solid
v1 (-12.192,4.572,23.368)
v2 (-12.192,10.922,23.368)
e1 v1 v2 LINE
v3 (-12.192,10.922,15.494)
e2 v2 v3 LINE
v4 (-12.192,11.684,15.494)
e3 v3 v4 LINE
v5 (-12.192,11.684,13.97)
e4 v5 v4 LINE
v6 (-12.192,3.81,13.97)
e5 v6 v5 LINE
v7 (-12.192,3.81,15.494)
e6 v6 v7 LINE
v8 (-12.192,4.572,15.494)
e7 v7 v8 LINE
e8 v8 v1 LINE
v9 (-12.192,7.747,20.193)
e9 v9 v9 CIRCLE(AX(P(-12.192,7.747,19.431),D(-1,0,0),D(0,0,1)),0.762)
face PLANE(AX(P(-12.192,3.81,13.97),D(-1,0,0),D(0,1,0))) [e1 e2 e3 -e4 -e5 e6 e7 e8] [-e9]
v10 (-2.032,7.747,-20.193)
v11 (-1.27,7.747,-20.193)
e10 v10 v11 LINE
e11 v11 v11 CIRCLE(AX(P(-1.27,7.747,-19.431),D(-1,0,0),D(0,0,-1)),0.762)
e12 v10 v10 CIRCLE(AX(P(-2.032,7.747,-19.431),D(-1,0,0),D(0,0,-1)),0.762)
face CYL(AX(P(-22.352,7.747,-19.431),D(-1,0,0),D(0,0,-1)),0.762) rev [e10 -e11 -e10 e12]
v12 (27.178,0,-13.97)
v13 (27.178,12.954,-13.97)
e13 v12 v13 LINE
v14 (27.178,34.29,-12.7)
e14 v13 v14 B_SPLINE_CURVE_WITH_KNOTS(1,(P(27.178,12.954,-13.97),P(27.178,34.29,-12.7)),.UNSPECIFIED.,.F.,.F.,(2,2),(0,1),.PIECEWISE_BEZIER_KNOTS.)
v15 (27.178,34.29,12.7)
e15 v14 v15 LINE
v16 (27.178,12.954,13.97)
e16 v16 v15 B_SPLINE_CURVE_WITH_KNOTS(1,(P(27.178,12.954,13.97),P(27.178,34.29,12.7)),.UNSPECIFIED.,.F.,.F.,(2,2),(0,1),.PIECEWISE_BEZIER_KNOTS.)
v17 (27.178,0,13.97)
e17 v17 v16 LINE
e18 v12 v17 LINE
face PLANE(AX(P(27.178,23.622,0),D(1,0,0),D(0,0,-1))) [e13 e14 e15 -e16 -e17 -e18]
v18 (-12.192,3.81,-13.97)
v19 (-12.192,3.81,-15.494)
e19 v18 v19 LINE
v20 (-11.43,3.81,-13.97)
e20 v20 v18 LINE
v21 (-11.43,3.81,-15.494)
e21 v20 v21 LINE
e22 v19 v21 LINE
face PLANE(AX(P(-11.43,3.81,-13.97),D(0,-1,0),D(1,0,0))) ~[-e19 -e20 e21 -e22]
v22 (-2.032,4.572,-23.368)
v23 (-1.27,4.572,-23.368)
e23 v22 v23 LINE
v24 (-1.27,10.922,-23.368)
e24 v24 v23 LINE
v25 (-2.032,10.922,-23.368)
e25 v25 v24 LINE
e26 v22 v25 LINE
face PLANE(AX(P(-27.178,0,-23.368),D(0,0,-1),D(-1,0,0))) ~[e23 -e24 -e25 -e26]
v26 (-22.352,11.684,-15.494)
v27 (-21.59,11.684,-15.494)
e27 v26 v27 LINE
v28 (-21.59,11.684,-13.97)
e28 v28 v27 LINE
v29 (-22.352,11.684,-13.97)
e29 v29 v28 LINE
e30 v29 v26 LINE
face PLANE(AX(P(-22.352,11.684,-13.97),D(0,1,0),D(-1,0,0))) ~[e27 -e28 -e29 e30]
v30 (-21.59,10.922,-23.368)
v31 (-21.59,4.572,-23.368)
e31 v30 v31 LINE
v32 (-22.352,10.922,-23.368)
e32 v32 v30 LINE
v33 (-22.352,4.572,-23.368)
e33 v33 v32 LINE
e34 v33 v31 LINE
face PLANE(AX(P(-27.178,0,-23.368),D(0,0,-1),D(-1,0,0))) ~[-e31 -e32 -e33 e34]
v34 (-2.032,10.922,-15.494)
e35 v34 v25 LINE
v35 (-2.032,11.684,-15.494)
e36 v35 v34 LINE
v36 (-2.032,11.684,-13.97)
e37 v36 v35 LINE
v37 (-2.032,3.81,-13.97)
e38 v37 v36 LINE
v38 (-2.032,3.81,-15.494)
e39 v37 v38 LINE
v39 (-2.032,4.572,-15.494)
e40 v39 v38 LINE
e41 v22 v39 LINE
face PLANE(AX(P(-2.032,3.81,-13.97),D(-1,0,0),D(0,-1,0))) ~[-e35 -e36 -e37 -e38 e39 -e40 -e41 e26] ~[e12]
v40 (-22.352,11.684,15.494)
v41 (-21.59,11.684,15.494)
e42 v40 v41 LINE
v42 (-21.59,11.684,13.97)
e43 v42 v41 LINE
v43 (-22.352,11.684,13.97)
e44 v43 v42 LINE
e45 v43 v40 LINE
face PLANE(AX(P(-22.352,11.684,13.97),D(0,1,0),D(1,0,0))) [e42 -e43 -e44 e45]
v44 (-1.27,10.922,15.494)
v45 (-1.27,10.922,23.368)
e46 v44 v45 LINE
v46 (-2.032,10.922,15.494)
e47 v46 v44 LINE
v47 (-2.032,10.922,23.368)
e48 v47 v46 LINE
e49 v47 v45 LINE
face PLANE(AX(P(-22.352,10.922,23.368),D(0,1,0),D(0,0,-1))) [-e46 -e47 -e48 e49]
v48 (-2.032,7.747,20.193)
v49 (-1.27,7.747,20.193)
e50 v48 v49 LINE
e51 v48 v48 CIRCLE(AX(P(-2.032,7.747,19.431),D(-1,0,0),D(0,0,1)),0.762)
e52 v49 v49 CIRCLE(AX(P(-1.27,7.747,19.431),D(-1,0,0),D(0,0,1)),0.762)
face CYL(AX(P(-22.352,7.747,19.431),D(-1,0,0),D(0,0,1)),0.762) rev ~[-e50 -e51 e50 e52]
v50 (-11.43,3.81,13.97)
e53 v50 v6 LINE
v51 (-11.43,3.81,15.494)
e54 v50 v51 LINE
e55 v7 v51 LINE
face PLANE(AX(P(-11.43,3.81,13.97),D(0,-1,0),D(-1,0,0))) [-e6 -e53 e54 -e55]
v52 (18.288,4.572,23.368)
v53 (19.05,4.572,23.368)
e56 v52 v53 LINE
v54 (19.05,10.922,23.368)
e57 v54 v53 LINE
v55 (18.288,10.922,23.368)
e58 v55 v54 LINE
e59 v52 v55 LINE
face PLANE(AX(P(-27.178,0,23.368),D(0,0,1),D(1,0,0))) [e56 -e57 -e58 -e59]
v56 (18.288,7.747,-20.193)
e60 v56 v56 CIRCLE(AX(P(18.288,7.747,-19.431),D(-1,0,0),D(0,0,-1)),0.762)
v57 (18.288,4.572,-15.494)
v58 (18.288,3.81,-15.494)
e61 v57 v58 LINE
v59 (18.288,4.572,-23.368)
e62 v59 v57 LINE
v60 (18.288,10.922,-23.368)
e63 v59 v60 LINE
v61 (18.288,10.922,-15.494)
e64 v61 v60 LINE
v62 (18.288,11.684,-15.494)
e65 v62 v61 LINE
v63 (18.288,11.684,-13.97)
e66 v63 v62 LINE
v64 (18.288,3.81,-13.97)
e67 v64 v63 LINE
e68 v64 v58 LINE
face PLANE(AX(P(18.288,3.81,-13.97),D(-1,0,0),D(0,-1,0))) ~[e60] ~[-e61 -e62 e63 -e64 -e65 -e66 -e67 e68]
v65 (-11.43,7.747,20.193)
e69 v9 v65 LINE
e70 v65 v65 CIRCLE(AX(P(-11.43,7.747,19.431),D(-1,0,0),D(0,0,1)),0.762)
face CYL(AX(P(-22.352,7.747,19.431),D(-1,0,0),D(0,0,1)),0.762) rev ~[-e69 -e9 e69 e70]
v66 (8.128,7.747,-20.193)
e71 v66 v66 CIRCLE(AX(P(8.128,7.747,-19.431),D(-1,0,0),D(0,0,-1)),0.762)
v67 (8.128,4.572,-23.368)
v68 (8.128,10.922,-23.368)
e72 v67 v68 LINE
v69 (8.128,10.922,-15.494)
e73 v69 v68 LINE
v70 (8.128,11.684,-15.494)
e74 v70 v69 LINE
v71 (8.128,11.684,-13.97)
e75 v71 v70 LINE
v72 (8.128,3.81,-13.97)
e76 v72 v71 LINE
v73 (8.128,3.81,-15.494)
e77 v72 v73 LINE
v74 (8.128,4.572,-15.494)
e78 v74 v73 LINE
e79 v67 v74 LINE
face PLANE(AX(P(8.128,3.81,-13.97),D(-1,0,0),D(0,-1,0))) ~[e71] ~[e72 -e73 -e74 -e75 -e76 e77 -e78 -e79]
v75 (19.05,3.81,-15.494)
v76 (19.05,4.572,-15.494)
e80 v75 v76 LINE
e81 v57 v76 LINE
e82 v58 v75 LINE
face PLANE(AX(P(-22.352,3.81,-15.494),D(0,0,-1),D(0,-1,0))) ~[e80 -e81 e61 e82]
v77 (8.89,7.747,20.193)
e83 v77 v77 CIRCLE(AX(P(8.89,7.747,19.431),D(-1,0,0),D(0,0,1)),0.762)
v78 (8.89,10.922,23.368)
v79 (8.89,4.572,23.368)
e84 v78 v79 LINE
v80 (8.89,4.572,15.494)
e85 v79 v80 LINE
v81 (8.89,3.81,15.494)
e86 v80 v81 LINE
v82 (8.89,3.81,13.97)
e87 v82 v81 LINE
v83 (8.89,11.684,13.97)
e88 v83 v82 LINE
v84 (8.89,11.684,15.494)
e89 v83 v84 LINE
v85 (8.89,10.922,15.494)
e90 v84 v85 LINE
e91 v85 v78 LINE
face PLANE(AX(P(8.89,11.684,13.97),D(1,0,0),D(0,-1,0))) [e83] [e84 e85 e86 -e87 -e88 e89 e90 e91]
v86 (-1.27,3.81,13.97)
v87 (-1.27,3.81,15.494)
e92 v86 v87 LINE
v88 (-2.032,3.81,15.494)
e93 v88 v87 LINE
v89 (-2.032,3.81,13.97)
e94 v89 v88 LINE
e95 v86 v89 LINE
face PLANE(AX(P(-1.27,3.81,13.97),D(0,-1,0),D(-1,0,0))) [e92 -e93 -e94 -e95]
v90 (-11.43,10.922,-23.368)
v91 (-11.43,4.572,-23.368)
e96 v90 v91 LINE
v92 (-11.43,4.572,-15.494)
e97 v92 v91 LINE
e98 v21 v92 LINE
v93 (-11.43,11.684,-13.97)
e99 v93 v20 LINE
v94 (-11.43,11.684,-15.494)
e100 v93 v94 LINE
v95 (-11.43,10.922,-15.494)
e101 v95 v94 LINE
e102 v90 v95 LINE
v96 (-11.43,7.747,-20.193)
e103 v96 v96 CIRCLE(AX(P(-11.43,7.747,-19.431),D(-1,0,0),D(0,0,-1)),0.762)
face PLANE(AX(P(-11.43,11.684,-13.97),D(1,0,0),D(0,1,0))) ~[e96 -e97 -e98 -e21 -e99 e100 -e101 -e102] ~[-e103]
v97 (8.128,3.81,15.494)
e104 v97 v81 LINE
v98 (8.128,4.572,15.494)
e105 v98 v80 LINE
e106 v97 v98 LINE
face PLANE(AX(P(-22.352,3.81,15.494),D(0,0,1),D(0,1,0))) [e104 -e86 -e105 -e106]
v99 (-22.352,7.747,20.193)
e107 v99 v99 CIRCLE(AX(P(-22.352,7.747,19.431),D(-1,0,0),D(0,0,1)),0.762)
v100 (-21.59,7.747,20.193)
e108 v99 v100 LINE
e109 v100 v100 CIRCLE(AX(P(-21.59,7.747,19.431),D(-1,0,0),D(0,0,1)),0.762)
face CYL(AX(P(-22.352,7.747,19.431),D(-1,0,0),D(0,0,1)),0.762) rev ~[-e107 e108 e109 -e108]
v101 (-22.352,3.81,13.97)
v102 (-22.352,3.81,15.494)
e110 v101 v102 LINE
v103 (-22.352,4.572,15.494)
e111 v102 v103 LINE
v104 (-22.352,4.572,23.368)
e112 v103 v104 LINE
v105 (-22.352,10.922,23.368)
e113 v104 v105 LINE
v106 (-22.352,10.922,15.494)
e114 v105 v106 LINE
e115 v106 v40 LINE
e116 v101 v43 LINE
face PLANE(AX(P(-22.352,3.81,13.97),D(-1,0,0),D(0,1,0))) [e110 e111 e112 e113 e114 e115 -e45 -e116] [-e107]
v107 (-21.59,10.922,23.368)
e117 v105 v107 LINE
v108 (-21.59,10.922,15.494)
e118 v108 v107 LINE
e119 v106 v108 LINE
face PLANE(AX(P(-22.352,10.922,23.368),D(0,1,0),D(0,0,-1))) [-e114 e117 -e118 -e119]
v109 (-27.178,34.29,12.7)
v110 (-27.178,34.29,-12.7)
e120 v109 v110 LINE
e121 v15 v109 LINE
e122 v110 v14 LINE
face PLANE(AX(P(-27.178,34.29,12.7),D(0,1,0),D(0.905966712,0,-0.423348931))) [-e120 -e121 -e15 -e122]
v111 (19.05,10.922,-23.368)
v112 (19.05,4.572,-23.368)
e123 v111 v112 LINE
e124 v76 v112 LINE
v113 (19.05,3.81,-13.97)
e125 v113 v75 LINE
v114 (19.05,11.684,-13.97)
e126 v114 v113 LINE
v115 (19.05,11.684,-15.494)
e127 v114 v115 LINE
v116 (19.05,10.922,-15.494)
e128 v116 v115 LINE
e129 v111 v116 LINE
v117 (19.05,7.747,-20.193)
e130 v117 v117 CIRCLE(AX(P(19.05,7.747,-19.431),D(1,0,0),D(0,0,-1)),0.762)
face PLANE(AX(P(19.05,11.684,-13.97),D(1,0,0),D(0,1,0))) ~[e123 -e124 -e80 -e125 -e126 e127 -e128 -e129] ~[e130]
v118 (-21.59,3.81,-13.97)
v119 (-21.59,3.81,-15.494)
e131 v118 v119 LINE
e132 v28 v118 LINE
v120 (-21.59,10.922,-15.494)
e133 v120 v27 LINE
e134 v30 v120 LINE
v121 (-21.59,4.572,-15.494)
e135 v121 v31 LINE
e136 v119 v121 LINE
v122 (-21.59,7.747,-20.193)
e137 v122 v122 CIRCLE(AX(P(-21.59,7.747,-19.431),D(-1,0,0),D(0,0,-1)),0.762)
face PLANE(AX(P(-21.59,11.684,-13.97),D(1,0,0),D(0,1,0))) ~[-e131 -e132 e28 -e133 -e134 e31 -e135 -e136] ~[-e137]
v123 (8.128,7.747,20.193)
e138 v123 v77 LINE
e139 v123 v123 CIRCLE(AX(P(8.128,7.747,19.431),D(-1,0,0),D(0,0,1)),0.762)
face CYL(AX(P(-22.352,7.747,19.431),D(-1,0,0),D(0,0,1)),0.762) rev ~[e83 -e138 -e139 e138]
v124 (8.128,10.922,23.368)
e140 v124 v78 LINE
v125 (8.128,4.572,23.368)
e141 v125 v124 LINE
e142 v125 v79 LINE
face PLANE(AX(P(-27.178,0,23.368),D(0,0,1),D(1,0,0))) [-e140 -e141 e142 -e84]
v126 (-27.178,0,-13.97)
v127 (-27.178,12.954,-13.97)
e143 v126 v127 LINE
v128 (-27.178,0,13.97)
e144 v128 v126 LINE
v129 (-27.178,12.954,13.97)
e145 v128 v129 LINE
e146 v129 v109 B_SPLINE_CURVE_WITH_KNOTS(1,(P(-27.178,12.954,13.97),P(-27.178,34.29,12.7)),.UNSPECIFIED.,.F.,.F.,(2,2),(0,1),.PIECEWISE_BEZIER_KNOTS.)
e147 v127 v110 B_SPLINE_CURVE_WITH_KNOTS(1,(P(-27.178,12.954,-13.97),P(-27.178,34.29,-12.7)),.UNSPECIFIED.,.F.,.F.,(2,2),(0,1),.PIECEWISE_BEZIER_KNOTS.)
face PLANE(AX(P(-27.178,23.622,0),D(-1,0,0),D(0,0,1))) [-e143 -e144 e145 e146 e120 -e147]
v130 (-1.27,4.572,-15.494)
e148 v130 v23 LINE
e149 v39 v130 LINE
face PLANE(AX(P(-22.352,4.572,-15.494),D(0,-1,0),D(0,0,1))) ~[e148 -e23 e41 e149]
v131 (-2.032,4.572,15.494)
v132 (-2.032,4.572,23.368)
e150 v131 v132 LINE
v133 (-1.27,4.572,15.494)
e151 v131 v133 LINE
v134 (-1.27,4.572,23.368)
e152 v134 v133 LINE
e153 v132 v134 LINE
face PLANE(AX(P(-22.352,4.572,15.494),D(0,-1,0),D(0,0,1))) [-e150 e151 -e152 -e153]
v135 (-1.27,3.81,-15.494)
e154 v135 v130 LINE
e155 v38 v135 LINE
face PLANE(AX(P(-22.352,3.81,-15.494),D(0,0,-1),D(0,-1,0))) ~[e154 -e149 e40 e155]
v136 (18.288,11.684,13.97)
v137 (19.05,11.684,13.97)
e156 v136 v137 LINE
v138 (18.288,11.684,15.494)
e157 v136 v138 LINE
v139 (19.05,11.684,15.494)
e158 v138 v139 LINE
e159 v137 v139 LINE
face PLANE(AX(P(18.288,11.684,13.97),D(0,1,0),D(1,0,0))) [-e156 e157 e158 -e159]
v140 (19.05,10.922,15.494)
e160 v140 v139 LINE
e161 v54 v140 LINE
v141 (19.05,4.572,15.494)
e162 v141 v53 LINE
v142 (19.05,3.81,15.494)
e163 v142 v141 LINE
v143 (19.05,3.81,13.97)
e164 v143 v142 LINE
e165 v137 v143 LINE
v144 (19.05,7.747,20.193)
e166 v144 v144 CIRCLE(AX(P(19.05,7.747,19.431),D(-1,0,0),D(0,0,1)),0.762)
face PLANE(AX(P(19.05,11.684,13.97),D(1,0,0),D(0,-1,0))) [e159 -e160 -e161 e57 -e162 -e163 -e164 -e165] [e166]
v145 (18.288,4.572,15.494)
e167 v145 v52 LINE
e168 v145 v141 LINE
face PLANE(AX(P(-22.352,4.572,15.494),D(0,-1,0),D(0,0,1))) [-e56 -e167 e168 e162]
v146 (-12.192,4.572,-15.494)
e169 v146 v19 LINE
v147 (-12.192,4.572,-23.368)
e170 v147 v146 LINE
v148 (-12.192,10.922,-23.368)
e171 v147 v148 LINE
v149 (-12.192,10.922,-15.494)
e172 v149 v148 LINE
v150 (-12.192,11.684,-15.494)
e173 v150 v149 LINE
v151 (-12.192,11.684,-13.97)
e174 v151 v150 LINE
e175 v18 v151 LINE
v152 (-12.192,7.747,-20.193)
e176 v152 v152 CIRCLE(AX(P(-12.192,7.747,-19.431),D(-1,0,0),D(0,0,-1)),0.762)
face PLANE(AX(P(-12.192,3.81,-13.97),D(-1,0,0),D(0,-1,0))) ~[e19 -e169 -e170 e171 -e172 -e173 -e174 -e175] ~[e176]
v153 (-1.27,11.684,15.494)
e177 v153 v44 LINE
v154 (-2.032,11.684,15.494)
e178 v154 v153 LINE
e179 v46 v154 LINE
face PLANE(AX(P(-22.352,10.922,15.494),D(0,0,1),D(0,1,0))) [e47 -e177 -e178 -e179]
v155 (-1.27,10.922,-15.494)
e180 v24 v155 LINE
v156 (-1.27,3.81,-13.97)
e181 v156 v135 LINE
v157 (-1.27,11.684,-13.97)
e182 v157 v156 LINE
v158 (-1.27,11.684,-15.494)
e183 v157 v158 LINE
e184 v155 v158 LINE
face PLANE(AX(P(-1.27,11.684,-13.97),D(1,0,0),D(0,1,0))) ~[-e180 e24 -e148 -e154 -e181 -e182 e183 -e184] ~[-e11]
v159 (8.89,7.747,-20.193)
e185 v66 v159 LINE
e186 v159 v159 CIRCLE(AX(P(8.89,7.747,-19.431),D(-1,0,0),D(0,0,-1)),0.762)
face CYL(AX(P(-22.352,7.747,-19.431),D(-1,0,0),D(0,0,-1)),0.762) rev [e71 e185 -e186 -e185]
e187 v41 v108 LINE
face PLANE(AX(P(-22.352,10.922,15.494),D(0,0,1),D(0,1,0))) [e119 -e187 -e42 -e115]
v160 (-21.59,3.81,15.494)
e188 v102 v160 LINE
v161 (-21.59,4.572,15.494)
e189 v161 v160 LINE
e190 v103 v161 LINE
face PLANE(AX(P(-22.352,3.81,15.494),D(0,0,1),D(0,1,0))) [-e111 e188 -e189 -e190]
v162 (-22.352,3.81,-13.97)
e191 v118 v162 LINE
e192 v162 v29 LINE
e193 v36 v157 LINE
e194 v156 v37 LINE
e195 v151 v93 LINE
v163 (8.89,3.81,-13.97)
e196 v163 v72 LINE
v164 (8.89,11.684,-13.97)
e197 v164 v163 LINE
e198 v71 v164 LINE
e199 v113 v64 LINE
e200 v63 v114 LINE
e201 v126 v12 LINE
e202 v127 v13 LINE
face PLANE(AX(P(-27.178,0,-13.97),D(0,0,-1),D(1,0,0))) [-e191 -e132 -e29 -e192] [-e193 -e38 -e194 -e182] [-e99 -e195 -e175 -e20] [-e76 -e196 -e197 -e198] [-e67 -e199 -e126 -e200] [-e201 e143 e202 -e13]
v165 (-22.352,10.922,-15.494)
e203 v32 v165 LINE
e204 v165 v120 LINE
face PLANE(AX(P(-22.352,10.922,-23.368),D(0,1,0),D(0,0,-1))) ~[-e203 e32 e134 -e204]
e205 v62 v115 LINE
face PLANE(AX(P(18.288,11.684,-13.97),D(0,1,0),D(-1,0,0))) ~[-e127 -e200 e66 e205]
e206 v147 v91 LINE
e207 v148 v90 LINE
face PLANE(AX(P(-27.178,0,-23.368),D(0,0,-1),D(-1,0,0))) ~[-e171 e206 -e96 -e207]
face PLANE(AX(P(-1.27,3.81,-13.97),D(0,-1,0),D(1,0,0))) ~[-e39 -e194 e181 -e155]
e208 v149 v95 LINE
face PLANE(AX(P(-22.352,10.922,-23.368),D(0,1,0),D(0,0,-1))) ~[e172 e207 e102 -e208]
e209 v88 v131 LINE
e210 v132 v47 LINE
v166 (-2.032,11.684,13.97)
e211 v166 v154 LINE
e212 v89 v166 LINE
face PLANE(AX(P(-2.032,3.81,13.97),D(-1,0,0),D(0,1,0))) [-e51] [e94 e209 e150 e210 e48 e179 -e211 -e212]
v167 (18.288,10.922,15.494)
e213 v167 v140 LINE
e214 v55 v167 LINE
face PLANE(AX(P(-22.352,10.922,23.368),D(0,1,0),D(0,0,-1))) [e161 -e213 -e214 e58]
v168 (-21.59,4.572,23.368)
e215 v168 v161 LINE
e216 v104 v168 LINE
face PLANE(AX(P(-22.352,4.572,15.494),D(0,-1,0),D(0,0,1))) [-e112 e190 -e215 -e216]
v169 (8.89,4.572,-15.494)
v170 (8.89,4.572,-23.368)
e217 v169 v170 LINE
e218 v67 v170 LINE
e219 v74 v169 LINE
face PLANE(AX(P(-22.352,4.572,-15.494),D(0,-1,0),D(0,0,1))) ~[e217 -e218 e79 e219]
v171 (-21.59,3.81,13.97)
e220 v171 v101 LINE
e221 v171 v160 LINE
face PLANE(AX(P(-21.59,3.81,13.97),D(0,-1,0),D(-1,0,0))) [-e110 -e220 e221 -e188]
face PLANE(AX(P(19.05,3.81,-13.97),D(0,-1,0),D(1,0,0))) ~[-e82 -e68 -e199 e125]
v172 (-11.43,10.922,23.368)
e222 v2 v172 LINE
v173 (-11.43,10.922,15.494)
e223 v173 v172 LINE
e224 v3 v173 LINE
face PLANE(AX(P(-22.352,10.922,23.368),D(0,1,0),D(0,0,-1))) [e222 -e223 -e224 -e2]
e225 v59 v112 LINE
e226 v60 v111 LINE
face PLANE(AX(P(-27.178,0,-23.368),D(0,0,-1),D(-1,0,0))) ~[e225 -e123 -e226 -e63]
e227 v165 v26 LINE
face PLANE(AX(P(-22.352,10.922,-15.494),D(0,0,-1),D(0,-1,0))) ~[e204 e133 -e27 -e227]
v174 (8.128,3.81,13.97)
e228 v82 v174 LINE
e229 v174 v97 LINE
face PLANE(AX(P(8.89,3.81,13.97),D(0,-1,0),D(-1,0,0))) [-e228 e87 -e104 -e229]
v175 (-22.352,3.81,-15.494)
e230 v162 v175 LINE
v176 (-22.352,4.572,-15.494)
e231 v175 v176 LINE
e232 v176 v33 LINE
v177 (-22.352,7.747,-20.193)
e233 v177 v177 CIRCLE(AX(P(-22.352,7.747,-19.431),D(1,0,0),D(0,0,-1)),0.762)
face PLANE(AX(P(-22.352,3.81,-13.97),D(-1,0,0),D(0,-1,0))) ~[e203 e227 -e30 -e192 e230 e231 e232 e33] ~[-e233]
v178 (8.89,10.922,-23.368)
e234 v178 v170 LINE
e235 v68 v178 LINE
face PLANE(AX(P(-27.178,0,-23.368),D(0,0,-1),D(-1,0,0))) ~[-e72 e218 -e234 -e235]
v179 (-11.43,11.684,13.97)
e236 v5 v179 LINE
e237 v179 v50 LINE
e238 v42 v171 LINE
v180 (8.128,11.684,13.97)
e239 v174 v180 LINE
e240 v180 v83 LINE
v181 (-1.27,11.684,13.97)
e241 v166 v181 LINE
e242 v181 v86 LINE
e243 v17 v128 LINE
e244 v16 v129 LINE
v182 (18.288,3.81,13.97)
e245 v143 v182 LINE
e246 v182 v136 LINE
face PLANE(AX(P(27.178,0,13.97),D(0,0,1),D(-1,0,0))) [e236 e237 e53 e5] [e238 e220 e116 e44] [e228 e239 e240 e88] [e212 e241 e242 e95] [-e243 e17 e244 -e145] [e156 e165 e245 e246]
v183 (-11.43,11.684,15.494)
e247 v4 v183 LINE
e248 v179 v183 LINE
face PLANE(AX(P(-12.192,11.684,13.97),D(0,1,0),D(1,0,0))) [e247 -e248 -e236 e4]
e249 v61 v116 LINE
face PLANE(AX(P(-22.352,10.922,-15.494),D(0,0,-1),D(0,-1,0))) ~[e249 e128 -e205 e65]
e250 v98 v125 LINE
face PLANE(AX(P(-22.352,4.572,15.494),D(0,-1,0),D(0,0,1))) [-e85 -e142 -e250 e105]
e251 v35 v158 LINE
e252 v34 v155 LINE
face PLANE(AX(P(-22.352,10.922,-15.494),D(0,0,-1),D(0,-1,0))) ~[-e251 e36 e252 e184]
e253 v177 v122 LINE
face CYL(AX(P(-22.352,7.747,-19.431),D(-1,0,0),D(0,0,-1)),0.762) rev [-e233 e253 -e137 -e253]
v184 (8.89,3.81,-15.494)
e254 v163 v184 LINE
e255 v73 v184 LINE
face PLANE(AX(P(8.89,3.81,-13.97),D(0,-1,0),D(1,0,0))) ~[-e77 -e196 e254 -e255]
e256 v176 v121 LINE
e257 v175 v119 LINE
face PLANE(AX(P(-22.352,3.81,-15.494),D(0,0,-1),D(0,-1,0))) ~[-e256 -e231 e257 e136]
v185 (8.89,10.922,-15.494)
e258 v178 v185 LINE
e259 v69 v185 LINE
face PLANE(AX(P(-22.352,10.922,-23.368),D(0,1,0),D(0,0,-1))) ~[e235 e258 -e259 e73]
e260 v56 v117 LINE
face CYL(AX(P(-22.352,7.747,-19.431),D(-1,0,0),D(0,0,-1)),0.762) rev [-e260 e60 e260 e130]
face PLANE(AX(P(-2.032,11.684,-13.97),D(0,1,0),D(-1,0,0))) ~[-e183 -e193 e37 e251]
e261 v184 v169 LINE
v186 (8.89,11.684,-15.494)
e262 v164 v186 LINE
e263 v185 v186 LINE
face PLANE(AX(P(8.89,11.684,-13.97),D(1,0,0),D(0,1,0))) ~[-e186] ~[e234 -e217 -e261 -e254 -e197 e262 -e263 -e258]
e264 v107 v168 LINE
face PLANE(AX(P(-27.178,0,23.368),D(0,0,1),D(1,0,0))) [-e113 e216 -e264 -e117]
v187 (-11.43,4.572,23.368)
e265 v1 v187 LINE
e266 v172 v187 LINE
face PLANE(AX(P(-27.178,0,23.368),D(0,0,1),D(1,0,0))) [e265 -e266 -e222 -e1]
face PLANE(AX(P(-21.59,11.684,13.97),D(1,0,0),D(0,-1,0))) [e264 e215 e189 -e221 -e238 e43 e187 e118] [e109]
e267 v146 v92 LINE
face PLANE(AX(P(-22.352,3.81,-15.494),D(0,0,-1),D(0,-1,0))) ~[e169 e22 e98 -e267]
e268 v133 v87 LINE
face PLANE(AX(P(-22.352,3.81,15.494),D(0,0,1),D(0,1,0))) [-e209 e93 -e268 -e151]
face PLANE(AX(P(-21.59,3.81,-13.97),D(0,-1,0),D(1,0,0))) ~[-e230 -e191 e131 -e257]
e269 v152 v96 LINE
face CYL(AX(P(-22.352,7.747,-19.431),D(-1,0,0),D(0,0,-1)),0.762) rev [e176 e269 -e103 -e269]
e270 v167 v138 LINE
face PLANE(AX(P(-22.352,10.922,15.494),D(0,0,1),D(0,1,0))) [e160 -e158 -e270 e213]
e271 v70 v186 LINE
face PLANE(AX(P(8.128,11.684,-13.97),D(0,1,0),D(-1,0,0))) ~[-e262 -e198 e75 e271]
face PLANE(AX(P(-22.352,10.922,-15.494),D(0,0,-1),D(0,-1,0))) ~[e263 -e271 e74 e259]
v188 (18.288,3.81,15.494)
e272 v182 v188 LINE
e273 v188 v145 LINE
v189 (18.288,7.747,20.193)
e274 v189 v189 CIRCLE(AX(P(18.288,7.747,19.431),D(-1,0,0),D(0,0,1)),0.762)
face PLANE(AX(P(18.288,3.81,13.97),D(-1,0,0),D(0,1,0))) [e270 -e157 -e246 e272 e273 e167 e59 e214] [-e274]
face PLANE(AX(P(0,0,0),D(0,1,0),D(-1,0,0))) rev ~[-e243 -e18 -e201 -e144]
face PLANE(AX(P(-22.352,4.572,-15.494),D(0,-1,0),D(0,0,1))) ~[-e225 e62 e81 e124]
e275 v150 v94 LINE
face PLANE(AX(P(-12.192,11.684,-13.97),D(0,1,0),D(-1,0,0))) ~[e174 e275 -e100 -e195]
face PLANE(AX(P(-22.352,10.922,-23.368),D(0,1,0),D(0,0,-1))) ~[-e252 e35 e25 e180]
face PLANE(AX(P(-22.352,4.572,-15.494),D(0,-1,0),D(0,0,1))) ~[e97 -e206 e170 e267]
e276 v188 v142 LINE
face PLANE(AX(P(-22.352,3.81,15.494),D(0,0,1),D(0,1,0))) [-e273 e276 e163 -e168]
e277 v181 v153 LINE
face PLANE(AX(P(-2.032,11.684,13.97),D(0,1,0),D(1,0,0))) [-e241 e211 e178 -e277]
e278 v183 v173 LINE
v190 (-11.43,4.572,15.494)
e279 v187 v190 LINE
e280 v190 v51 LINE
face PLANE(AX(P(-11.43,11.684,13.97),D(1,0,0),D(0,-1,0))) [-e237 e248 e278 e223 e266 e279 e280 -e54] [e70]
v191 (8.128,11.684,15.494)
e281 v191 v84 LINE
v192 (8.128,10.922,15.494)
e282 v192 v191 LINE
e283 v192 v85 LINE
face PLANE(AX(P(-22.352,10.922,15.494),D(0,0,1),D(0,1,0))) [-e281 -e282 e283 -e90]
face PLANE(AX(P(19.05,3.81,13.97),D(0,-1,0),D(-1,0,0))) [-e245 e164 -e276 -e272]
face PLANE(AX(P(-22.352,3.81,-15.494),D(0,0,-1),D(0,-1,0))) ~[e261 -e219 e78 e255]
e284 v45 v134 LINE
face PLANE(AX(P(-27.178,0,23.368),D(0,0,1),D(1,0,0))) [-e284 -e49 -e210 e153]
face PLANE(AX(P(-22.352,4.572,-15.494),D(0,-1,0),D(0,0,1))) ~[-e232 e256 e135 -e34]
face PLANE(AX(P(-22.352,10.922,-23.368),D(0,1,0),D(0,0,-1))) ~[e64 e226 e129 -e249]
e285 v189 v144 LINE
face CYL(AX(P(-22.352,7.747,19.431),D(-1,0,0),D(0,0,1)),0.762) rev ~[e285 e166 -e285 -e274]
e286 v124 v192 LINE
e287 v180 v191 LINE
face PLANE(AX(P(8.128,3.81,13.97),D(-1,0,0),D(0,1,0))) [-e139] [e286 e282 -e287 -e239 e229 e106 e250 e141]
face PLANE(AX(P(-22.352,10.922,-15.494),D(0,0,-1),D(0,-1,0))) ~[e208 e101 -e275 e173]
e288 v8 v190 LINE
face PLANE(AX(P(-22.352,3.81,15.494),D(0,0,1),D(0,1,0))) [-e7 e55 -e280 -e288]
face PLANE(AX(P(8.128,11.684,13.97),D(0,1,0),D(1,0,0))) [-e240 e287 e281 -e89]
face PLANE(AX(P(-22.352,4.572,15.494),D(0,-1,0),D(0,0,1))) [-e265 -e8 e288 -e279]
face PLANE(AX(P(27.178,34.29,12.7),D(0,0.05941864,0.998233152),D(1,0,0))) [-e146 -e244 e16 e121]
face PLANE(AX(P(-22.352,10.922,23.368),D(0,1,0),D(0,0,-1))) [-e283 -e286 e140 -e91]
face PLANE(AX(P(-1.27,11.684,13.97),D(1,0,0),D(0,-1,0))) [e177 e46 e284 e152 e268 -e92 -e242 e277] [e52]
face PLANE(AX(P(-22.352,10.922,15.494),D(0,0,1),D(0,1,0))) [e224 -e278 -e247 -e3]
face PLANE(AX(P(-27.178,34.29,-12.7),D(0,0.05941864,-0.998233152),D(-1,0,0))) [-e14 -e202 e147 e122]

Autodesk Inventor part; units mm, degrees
ref_plane "YZ Plane" through (0, 0, 0) normal (1, 0, 0) x (0, 1, 0)
ref_plane "XZ Plane" through (0, 0, 0) normal (0, 1, 0) x (-1, 0, 0)
sketch "Sketch2" plane through (0, 0, 0) normal (0, 1, 0) x (-1, 0, 0)
  line L0 (-27.178, 13.97) -> (27.178, 13.97)
  line L1 (27.178, 13.97) -> (27.178, -13.97)
  line L2 (27.178, -13.97) -> (-27.178, -13.97)
  line L3 (-27.178, -13.97) -> (-27.178, 13.97)
  line L4 (-27.178, 13.97) -> (27.178, -13.97) construction
  point P0 (0, 0)
  point P1 (0, 0)
  dimension "d0" = 54.356
  dimension "d1" = 27.94
extrude "Extrusion1" add sketch "Sketch2" along normal blind 12.954
sketch "Sketch3" plane through (-27.178, 0, 13.97) normal (0, 0, 1) x (1, 0, 0)
  line L0 (54.356, 12.954) -> (0, 12.954) projected
  line L1 (0, 0) -> (0, 12.954) projected
  line L2 (54.356, 0) -> (0, 0) projected
  line L3 (4.826, 11.684) -> (5.588, 11.684)
  line L4 (5.588, 11.684) -> (5.588, 3.81)
  line L5 (5.588, 3.81) -> (4.826, 3.81)
  line L6 (4.826, 3.81) -> (4.826, 11.684)
  line L7 (14.986, 11.684) -> (15.748, 11.684)
  line L8 (15.748, 11.684) -> (15.748, 3.81)
  line L9 (15.748, 3.81) -> (14.986, 3.81)
  line L10 (14.986, 3.81) -> (14.986, 11.684)
  line L11 (25.146, 11.684) -> (25.908, 11.684)
  line L12 (25.908, 11.684) -> (25.908, 3.81)
  line L13 (25.908, 3.81) -> (25.146, 3.81)
  line L14 (25.146, 3.81) -> (25.146, 11.684)
  line L15 (35.306, 11.684) -> (36.068, 11.684)
  line L16 (36.068, 11.684) -> (36.068, 3.81)
  line L17 (36.068, 3.81) -> (35.306, 3.81)
  line L18 (35.306, 3.81) -> (35.306, 11.684)
  line L19 (45.466, 11.684) -> (46.228, 11.684)
  line L20 (46.228, 11.684) -> (46.228, 3.81)
  line L21 (46.228, 3.81) -> (45.466, 3.81)
  line L22 (45.466, 3.81) -> (45.466, 11.684)
  point P0 (27.178, 0)
  dimension "d4" = 0.762
  dimension "d5" = 7.874
  dimension "d6" = 1.27
  dimension "d7" = 4.826
  dimension "d10" = 10.16
extrude "Extrusion2" add sketch "Sketch3" along normal blind 9.398
sketch "Sketch4" plane through (-22.352, 3.81, 13.97) normal (-1, 0, 0) x (0, 0, 1)
  line L0 (0, 0) -> (0, 7.874) projected
  line L1 (1.524, 7.874) -> (9.398, 7.874)
  line L2 (9.398, 7.874) -> (9.398, 7.112)
  line L3 (9.398, 7.112) -> (1.524, 7.112)
  line L4 (1.524, 7.112) -> (1.524, 7.874)
  line L5 (9.398, 0) -> (1.524, 0)
  line L6 (1.524, 0) -> (1.524, 0.762)
  line L7 (1.524, 0.762) -> (9.398, 0.762)
  line L8 (9.398, 0.762) -> (9.398, 0)
  circle A0 centre (5.461, 3.937) radius 0.762
  line L9 (9.398, 7.112) -> (1.524, 0.762) construction
  point P0 (-13.97, -3.81)
  dimension "d17" = 6.35
  dimension "d18" = 1.524
  dimension "d19" = 1.524
extrude "Extrusion3" cut sketch "Sketch4" against normal up to surface (41.402 mm away)
mirror "Mirror1" about plane through (0, 0, 0) normal (0, 0, 1) of "Extrusion2", "Extrusion3"
sketch "Sketch5" plane through (0, 12.954, 0) normal (0, 1, 0) x (1, 0, 0)
  line L0 (-27.178, -13.97) -> (-27.178, 13.97) projected
  line L1 (27.178, -13.97) -> (-27.178, -13.97) projected
  line L2 (-27.178, 13.97) -> (27.178, 13.97)
  line L3 (27.178, 13.97) -> (27.178, -13.97)
  line L4 (27.178, -13.97) -> (-27.178, -13.97)
  line L5 (-27.178, -13.97) -> (-27.178, 13.97)
  point P0 (0, 0)
ref_plane "Work Plane1" through (0, 34.29, 0) normal (0, 1, 0) x (1, 0, 0)
sketch "Sketch6" plane through (0, 34.29, 0) normal (0, 1, 0) x (1, 0, 0)
  line L0 (-27.178, 12.7) -> (27.178, 12.7)
  line L1 (27.178, 12.7) -> (27.178, -12.7)
  line L2 (27.178, -12.7) -> (-27.178, -12.7)
  line L3 (-27.178, -12.7) -> (-27.178, 12.7)
  line L4 (27.178, 12.7) -> (-27.178, -12.7) construction
  point P0 (0, 0)
  point P1 (0, 0)
  point P2 (-27.178, 13.97)
  dimension "d23" = 25.4
loft "Loft1" add profiles "Sketch5", "Sketch6"
properties part number "FuseBlock"
